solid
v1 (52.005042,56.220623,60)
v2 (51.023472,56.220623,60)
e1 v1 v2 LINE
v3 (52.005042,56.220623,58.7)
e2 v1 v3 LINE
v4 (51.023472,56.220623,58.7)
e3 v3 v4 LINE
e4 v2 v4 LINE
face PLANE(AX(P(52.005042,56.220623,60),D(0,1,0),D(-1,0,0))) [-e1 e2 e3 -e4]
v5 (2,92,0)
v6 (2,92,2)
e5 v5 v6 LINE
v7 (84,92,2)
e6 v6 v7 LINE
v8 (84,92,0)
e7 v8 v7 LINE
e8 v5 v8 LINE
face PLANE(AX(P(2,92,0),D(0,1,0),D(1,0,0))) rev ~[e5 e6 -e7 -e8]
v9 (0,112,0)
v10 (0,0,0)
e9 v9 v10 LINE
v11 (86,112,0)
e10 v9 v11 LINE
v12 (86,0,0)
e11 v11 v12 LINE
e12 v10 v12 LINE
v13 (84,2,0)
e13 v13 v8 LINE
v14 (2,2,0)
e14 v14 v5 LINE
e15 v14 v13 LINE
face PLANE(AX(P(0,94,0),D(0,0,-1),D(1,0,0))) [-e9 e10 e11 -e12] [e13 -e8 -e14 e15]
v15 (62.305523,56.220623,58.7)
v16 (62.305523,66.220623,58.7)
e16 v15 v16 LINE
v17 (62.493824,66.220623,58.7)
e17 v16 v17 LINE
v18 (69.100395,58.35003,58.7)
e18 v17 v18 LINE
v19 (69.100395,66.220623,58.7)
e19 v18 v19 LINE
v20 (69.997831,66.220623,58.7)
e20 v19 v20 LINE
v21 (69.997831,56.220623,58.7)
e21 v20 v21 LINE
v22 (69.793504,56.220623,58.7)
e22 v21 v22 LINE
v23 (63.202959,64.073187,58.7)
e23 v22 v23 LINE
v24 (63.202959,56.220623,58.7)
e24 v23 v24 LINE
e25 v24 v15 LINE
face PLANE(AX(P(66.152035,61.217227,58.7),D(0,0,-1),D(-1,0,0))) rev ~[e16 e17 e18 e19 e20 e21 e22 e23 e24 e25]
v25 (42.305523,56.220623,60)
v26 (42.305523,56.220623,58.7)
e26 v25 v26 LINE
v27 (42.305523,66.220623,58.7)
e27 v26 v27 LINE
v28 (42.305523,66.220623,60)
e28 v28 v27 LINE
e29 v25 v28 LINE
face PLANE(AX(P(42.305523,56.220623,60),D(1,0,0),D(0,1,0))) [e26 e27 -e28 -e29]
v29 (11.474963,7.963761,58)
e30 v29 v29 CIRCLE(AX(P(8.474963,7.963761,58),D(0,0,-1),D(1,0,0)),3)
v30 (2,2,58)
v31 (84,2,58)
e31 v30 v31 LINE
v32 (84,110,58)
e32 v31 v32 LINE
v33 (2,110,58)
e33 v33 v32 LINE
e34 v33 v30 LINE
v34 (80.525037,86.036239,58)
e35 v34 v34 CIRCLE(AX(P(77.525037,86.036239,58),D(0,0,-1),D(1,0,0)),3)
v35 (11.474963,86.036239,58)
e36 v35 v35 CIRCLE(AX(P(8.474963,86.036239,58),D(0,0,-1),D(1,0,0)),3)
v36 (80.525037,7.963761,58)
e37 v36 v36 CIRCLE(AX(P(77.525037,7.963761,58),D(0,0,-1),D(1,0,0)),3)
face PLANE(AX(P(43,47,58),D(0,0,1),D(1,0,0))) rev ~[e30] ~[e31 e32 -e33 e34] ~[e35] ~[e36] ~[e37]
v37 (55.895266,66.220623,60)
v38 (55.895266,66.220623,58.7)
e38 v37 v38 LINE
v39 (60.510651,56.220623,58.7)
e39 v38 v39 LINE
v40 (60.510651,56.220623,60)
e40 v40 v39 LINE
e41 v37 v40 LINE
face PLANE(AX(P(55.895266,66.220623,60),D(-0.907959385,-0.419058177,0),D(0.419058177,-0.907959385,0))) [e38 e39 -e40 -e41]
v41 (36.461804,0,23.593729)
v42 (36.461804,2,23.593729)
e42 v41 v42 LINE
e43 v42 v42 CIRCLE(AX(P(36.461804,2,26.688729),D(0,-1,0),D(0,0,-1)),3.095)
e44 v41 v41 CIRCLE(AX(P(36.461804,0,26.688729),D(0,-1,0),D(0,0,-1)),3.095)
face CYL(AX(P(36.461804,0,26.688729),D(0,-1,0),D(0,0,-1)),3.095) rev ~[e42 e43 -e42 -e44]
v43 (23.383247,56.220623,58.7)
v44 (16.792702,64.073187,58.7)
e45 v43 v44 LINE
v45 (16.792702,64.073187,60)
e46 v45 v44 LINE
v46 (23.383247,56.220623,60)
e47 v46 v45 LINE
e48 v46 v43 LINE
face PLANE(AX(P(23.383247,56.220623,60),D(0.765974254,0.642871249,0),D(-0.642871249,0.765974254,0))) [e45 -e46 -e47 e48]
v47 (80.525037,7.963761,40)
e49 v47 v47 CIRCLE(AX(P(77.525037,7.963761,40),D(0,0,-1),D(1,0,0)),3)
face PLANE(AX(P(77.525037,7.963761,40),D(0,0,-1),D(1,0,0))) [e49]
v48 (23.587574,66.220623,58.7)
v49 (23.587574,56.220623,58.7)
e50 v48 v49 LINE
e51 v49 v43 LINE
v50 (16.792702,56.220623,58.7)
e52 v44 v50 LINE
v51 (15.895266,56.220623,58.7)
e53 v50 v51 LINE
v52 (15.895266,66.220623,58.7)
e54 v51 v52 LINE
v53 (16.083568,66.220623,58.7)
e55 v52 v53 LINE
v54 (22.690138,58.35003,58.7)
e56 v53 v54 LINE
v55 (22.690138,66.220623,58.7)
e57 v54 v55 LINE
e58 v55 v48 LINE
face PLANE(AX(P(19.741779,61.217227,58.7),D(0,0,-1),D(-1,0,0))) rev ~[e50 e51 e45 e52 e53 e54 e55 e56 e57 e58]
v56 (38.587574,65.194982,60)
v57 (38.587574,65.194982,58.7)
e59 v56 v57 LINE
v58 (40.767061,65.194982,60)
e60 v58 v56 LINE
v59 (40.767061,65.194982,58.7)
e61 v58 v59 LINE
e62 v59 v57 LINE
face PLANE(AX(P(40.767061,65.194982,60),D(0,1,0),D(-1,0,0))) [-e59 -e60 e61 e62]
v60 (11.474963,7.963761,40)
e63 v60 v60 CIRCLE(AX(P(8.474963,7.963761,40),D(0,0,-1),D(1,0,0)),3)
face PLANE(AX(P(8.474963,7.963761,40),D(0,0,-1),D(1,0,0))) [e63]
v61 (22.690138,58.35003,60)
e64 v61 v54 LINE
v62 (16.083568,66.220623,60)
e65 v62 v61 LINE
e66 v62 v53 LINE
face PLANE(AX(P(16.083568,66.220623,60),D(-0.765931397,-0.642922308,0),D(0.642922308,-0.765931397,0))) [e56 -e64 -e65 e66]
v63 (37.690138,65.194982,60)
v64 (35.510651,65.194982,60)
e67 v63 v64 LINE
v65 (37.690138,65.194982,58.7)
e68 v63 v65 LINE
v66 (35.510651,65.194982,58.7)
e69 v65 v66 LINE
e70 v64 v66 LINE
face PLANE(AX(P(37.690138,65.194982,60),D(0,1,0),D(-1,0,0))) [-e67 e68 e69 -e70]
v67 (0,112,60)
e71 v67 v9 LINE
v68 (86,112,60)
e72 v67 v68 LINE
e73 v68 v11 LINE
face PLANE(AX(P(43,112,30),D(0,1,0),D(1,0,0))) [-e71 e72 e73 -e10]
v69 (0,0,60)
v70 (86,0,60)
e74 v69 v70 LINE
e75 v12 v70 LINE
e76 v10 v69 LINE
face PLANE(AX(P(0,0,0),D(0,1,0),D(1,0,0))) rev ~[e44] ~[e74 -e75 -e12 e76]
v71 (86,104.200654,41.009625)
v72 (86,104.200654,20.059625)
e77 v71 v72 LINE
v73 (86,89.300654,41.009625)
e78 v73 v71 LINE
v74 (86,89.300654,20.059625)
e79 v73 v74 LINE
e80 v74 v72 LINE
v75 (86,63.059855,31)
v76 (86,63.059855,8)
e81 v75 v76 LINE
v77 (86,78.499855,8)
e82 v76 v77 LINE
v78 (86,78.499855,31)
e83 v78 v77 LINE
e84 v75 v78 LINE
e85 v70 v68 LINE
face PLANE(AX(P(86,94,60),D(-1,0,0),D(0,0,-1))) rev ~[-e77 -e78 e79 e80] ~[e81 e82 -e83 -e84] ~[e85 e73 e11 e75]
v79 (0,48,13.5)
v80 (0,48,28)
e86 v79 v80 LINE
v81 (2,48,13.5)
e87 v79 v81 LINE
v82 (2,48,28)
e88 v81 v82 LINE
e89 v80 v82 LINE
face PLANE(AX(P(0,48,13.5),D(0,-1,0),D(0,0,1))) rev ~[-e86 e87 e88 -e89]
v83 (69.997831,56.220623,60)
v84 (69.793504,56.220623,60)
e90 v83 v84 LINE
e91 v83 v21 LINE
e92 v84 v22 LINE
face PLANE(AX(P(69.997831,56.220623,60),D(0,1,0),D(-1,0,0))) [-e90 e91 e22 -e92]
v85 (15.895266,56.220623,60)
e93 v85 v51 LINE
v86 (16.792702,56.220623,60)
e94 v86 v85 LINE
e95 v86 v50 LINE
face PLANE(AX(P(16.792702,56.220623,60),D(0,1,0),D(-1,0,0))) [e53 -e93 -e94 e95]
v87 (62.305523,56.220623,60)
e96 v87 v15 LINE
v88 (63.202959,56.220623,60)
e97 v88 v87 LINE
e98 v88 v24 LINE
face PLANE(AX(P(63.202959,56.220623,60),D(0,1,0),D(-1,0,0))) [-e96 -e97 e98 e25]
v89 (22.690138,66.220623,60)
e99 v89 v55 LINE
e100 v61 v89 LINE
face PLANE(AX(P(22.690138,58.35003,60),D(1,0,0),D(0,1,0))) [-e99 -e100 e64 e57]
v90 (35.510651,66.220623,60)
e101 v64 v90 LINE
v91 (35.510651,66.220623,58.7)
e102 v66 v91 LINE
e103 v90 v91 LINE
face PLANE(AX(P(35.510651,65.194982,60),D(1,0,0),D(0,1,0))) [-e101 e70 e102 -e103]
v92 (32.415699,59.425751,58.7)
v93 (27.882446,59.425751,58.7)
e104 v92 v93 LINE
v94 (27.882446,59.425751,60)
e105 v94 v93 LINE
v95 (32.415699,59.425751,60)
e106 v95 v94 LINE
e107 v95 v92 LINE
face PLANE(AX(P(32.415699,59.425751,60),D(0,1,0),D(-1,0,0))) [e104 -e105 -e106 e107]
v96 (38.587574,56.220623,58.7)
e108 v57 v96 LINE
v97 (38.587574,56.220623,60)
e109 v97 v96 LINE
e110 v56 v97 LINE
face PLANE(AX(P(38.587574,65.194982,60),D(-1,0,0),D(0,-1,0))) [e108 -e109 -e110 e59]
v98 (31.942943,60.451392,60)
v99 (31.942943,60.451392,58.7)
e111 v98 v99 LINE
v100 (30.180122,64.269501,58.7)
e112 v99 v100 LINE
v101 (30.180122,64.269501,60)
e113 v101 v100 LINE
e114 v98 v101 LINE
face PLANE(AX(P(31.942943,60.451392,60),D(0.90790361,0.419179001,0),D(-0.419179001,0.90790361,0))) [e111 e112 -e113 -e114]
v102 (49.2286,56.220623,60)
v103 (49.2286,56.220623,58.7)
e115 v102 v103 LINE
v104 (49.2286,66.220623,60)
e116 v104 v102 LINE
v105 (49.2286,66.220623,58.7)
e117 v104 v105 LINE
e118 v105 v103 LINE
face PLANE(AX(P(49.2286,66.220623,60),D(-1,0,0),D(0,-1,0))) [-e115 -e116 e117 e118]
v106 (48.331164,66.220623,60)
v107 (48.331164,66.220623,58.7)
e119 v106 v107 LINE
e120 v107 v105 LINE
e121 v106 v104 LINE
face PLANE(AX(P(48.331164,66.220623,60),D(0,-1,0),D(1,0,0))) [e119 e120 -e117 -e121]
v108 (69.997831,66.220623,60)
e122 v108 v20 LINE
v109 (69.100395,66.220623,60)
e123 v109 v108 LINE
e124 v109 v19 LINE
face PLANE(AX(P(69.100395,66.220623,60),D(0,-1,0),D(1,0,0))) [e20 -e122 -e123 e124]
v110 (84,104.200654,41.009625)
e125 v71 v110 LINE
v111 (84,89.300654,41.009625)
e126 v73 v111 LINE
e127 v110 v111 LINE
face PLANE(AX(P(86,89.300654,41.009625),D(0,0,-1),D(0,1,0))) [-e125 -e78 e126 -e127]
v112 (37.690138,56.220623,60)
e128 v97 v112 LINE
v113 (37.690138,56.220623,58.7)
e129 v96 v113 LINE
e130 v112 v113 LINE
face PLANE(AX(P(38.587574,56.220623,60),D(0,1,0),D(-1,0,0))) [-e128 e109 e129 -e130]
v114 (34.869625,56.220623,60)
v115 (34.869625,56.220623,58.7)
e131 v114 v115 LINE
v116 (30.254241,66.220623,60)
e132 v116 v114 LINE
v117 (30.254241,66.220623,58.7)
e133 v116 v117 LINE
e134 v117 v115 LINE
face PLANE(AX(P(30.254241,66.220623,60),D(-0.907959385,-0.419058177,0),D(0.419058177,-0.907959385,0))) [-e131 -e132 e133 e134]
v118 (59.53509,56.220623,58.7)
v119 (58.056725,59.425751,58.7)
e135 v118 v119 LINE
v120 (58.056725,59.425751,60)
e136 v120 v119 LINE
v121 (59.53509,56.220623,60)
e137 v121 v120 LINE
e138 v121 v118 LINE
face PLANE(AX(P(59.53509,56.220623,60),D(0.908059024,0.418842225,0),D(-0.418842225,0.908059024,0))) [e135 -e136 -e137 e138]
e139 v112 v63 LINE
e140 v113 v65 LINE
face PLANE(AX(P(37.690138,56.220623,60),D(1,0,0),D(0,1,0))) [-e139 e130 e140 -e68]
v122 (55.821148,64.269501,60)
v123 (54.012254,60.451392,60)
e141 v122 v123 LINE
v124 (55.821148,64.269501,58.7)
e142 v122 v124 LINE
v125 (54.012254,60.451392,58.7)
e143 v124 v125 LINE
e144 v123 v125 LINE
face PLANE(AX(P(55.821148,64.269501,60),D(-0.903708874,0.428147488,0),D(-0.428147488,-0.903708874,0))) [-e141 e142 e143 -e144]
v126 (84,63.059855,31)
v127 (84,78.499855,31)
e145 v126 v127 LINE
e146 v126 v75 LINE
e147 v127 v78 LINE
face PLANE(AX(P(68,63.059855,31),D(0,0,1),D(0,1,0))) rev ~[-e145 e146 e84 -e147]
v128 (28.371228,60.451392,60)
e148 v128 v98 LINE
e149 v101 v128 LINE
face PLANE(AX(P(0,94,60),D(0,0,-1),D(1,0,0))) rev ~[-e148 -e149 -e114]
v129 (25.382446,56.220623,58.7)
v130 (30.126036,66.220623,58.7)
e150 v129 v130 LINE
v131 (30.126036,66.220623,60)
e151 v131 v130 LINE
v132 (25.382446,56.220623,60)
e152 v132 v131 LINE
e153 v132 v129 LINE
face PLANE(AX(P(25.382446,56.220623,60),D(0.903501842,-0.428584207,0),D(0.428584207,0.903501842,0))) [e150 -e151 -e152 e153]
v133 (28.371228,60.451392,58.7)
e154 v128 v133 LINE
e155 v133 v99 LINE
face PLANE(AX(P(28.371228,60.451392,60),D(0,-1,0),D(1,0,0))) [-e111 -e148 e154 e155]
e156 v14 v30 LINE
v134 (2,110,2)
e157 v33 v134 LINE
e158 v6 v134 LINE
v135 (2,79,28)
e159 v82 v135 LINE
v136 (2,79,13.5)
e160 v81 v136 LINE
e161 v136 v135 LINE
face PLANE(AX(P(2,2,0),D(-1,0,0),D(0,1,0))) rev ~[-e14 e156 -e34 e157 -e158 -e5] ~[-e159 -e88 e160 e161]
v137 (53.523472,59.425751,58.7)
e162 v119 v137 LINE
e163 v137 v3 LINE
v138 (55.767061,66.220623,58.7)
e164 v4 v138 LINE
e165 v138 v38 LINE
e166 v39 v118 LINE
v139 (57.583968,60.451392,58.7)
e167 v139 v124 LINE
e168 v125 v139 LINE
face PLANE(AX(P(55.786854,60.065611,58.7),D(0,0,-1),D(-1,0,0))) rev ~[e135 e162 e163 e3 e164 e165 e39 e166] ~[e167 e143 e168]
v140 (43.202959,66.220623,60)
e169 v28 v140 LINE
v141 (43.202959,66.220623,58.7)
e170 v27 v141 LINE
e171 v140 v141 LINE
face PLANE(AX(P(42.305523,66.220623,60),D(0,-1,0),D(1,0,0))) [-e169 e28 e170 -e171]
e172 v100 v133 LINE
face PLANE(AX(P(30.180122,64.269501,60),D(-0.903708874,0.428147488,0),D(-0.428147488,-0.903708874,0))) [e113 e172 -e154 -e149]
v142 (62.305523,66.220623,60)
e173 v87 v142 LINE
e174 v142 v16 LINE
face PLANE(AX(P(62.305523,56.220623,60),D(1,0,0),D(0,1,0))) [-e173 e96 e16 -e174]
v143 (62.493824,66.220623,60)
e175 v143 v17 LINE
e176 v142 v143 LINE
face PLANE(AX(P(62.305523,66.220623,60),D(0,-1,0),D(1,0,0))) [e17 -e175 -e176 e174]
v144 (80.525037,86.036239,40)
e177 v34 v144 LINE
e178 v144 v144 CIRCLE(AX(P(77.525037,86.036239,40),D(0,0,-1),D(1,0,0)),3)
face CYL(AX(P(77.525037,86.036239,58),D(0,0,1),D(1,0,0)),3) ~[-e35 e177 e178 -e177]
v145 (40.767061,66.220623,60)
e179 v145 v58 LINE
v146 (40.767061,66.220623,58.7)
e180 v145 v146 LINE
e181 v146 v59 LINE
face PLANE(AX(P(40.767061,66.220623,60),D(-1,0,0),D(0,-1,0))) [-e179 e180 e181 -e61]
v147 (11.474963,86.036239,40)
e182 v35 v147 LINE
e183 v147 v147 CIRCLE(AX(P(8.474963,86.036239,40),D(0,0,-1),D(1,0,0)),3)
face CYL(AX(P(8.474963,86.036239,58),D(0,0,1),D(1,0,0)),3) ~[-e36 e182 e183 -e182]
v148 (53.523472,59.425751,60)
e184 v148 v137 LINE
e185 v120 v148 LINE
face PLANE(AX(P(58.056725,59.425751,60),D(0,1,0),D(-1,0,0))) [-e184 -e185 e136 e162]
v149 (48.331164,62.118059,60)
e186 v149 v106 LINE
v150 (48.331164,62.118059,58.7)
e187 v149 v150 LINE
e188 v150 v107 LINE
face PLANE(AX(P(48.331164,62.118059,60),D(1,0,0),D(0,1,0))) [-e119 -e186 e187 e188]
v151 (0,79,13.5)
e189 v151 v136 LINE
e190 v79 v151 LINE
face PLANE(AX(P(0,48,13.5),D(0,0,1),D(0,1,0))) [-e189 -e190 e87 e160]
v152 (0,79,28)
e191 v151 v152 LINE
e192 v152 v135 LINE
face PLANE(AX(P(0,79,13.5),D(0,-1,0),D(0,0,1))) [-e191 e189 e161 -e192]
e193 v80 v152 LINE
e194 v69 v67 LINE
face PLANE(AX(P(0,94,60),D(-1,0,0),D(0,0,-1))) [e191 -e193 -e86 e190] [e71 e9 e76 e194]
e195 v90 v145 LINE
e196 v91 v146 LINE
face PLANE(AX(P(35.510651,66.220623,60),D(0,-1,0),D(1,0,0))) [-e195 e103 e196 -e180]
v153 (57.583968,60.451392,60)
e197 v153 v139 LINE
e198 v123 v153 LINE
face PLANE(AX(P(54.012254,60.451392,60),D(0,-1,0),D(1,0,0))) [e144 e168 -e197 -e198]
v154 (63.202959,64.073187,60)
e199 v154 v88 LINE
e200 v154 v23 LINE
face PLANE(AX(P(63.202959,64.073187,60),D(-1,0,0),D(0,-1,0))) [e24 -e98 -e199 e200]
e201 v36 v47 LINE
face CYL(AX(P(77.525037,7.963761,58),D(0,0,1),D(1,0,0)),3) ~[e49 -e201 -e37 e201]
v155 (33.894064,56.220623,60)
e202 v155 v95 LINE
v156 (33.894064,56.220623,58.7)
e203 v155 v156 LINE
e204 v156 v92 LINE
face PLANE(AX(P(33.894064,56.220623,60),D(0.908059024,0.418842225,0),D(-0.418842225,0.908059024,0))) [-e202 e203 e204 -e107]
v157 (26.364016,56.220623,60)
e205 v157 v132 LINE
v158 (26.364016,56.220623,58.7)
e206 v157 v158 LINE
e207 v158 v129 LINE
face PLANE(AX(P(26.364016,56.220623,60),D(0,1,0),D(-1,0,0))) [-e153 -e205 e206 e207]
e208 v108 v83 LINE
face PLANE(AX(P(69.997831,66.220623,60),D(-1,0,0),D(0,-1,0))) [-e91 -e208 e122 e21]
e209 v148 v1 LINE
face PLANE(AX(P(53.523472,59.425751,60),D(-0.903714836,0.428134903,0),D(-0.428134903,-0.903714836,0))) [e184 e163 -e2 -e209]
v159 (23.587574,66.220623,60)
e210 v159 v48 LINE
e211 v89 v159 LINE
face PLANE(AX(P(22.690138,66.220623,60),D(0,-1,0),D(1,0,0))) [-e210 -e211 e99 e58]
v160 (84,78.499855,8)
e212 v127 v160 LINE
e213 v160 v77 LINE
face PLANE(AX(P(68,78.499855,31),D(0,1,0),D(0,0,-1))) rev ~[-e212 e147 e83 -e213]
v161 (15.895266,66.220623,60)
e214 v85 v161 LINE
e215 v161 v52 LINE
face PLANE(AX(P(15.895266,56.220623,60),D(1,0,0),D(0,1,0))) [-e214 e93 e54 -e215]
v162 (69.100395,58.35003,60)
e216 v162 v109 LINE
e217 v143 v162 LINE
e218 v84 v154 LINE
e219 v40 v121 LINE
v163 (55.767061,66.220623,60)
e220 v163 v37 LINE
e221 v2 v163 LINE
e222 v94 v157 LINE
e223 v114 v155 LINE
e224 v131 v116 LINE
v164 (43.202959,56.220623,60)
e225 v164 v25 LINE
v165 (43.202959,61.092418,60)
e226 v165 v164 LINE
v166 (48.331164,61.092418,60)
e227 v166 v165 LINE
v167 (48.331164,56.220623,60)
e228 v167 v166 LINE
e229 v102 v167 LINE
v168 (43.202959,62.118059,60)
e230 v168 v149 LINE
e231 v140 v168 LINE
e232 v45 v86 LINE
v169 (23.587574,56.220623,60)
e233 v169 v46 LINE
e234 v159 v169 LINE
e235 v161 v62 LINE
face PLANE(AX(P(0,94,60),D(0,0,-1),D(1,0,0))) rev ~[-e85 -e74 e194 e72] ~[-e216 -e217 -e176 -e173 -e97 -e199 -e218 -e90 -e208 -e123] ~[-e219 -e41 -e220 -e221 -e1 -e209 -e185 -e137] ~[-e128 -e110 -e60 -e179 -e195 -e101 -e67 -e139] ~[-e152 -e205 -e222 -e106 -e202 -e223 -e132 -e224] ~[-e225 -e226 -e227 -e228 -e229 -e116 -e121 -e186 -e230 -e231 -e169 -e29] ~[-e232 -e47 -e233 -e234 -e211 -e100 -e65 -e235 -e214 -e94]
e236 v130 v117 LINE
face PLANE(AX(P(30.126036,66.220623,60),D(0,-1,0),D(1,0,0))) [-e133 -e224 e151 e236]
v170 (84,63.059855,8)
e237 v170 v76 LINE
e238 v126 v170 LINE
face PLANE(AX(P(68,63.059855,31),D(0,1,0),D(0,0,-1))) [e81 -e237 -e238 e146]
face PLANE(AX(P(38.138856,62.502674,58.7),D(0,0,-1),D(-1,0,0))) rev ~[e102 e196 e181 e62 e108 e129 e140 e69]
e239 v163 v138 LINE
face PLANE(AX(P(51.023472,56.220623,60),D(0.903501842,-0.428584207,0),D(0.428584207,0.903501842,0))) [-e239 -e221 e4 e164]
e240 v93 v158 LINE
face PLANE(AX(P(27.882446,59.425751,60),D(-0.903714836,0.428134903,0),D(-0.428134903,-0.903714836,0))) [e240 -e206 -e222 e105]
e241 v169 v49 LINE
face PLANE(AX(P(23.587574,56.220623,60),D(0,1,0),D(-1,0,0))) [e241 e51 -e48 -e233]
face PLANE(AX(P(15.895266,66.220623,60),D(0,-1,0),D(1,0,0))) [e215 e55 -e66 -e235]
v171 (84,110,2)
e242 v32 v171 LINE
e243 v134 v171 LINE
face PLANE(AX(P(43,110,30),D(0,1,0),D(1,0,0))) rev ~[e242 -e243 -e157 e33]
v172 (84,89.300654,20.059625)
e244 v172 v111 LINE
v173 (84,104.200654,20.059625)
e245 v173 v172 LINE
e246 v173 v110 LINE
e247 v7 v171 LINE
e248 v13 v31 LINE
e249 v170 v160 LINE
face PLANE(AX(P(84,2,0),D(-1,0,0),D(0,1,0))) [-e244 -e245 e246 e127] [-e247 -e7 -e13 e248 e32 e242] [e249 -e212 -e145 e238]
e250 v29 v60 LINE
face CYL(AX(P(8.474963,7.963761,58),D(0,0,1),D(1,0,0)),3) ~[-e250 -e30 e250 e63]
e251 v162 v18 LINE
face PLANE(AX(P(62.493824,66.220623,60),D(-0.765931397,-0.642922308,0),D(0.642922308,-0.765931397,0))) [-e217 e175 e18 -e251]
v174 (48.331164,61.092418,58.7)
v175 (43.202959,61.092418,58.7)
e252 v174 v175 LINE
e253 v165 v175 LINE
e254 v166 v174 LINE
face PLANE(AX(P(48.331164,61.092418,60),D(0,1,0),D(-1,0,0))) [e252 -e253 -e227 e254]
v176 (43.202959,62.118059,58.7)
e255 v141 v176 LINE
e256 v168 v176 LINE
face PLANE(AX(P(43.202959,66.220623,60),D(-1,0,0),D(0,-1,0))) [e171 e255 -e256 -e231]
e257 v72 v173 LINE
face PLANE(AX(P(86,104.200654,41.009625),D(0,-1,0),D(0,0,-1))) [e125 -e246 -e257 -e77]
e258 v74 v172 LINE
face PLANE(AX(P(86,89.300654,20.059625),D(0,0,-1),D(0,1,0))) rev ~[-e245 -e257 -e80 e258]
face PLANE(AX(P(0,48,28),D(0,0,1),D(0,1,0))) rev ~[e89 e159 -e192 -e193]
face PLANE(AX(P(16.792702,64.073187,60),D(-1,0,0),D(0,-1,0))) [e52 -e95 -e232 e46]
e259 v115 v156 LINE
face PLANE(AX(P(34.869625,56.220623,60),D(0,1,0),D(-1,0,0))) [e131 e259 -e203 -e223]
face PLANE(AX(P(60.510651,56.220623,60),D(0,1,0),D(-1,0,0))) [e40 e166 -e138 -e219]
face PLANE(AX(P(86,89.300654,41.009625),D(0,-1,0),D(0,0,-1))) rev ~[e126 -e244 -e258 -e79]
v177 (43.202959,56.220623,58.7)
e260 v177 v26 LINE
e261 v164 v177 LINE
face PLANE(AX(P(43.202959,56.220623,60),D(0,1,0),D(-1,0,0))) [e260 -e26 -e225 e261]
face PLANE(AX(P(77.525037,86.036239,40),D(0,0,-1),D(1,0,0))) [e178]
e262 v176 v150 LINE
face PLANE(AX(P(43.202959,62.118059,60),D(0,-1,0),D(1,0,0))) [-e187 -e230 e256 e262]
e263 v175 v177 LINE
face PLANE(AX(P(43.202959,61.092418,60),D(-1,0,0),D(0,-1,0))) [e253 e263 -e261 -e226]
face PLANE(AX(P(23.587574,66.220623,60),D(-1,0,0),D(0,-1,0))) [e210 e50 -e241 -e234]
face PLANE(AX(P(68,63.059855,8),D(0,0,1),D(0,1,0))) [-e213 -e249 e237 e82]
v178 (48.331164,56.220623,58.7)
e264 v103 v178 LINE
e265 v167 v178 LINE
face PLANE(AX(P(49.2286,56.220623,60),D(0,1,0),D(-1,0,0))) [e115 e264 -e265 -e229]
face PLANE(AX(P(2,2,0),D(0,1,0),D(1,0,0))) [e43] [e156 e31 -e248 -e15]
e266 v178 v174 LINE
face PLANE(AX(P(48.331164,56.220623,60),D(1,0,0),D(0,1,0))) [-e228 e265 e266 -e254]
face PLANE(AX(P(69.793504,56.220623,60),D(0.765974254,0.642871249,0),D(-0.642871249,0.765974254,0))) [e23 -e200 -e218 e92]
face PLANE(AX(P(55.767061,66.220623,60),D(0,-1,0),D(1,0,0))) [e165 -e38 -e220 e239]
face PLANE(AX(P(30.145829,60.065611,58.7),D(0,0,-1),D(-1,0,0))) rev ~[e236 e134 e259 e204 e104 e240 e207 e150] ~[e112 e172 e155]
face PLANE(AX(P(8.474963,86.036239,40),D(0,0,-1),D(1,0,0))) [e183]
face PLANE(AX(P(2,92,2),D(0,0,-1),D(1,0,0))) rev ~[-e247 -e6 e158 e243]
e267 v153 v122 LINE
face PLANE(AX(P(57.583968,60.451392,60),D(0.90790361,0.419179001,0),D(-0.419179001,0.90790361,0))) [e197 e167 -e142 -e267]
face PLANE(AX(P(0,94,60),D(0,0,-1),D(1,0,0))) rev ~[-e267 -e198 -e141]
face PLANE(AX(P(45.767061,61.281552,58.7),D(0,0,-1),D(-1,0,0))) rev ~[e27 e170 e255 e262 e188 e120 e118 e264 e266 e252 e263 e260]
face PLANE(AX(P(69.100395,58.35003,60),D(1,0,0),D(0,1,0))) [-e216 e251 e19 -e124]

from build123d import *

# Parameters (mm, degrees)
ESQUISSE1_W                  = 86
ESQUISSE1_H                  = 94
BOSS_EXTRU_1_DEPTH           = 60
ESQUISSE2_W                  = 82
ESQUISSE2_H                  = 90
ENL_V_MAT_EXTRU_1_DEPTH      = 58
ESQUISSE3_W                  = 86
ESQUISSE3_H                  = 60
BOSS_EXTRU_2_DEPTH           = 18
ESQUISSE5_W                  = 82
ESQUISSE5_H                  = 56
ENL_V_MAT_EXTRU_2_DEPTH      = 18
ENL_V_MAT_EXTRU_3_DEPTH      = 154.427507312
ENL_V_MAT_EXTRU_3_DEPTH_BACK = 18
ESQUISSE7_W                  = 23
ESQUISSE7_H                  = 15.44
ESQUISSE8_W                  = 14.5
ESQUISSE8_H                  = 31
ENL_V_MAT_EXTRU_4_DEPTH      = 18
ESQUISSE11_W                 = 20.95
ESQUISSE11_H                 = 14.9
ENL_V_MAT_EXTRU_5_DEPTH      = 18
ESQUISSE12_R                 = 3.095
ENL_V_MAT_EXTRU_6_DEPTH      = 18
ESQUISSE15_R                 = 3
BOSS_EXTRU_3_DEPTH           = 18
ENL_V_MAT_EXTRU_7_DEPTH      = 1.3


with BuildPart() as part:
    # Esquisse1 → Boss.-Extru.1 (new body)
    with BuildSketch(Plane.XY):
        with Locations((43, 47)):
            Rectangle(ESQUISSE1_W, ESQUISSE1_H)
    extrude(amount=BOSS_EXTRU_1_DEPTH)

    # Esquisse2 → Enlèv. mat.-Extru.1 (cut)
    with BuildSketch(Plane.XY):
        with Locations((43, 47)):
            Rectangle(ESQUISSE2_W, ESQUISSE2_H)
    extrude(amount=ENL_V_MAT_EXTRU_1_DEPTH, mode=Mode.SUBTRACT)

    # Esquisse3 → Boss.-Extru.2 (add)
    with BuildSketch(Plane(origin=(0, 94, 0), x_dir=(1, 0, 0), z_dir=(0, 1, 0))):
        with Locations((43, -30)):
            Rectangle(ESQUISSE3_W, ESQUISSE3_H)
    extrude(amount=BOSS_EXTRU_2_DEPTH)

    # Esquisse5 → Enlèv. mat.-Extru.2 (cut)
    with BuildSketch(Plane(origin=(0, 92, 0), x_dir=(1, 0, 0), z_dir=(0, 1, 0))):
        with Locations((43, -30)):
            Rectangle(ESQUISSE5_W, ESQUISSE5_H)
    extrude(amount=ENL_V_MAT_EXTRU_2_DEPTH, mode=Mode.SUBTRACT)

    # Esquisse7 → Enlèv. mat.-Extru.3 (cut, two sides: drawn at the far end of the back side and taken through both)
    with BuildSketch(Plane(origin=(86, 0, 0), x_dir=(0, 0, -1), z_dir=(1, 0, 0)).offset(-ENL_V_MAT_EXTRU_3_DEPTH_BACK)):
        with Locations((-19.5, 70.77985545)):
            Rectangle(ESQUISSE7_W, ESQUISSE7_H)
    extrude(amount=ENL_V_MAT_EXTRU_3_DEPTH + ENL_V_MAT_EXTRU_3_DEPTH_BACK, mode=Mode.SUBTRACT)

    # Esquisse8 → Enlèv. mat.-Extru.4 (cut)
    with BuildSketch(Plane.ZY):
        with Locations((20.75, 63.5)):
            Rectangle(ESQUISSE8_W, ESQUISSE8_H)
    extrude(amount=-ENL_V_MAT_EXTRU_4_DEPTH, mode=Mode.SUBTRACT)

    # Esquisse11 → Enlèv. mat.-Extru.5 (cut)
    with BuildSketch(Plane(origin=(86, 0, 0), x_dir=(0, 0, -1), z_dir=(1, 0, 0))):
        with Locations((-30.534625058, 96.750653673)):
            Rectangle(ESQUISSE11_W, ESQUISSE11_H)
    extrude(amount=-ENL_V_MAT_EXTRU_5_DEPTH, mode=Mode.SUBTRACT)

    # Esquisse12 → Enlèv. mat.-Extru.6 (cut)
    with BuildSketch(Plane.XZ):
        with Locations(Location((36.461804468, 26.688728835, 0), (0, 0, 270))):
            Circle(ESQUISSE12_R)
    extrude(amount=-ENL_V_MAT_EXTRU_6_DEPTH, mode=Mode.SUBTRACT)

    # Esquisse15 → Boss.-Extru.3 (add)
    with BuildSketch(Plane(origin=(0, 0, 58), x_dir=(-1, 0, 0), z_dir=(0, 0, -1))):
        with Locations(Location((-77.525036721, 7.963761202, 0), (0, 0, 180))):
            Circle(ESQUISSE15_R)
        with Locations(Location((-8.474963279, 7.963761202, 0), (0, 0, 180))):
            Circle(ESQUISSE15_R)
        with Locations(Location((-77.525036721, 86.036238798, 0), (0, 0, 180))):
            Circle(ESQUISSE15_R)
        with Locations(Location((-8.474963279, 86.036238798, 0), (0, 0, 180))):
            Circle(ESQUISSE15_R)
    extrude(amount=BOSS_EXTRU_3_DEPTH)

    # Esquisse16 → Enlèv. mat.-Extru.7 (cut)
    # profile 1 of 6: a face of its own
    with BuildSketch(Plane.XY.offset(60)):
        Polygon((15.8952664, 56.22062268), (15.8952664, 66.22062268), (16.083567682, 66.22062268), (22.690138195, 58.350029732), (22.690138195, 66.22062268), (23.587574092, 66.22062268), (23.587574092, 56.22062268), (23.383247169, 56.22062268), (16.792702297, 64.073186783), (16.792702297, 56.22062268), align=None)
    # profile 2 of 6: a face of its own
    with BuildSketch(Plane.XY.offset(60)):
        Polygon((30.254240759, 66.22062268), (34.869625374, 56.22062268), (33.894064477, 56.22062268), (32.415699092, 59.425750886), (27.882445887, 59.425750886), (26.3640164, 56.22062268), (25.382445887, 56.22062268), (30.126035631, 66.22062268), align=None)
        Polygon((30.180122169, 64.269500886), (28.371227939, 60.451391911), (31.942942682, 60.451391911), align=None, mode=Mode.SUBTRACT)
    # profile 3 of 6: a face of its own
    with BuildSketch(Plane.XY.offset(60)):
        Polygon((35.510651015, 65.194981655), (35.510651015, 66.22062268), (40.767061272, 66.22062268), (40.767061272, 65.194981655), (38.587574092, 65.194981655), (38.587574092, 56.22062268), (37.690138195, 56.22062268), (37.690138195, 65.194981655), align=None)
    # profile 4 of 6: a face of its own
    with BuildSketch(Plane.XY.offset(60)):
        Polygon((42.30552281, 66.22062268), (43.202958708, 66.22062268), (43.202958708, 62.118058578), (48.331163836, 62.118058578), (48.331163836, 66.22062268), (49.228599733, 66.22062268), (49.228599733, 56.22062268), (48.331163836, 56.22062268), (48.331163836, 61.092417552), (43.202958708, 61.092417552), (43.202958708, 56.22062268), (42.30552281, 56.22062268), align=None)
    # profile 5 of 6: a face of its own
    with BuildSketch(Plane.XY.offset(60)):
        Polygon((55.8952664, 66.22062268), (60.510651015, 56.22062268), (59.535090118, 56.22062268), (58.056724733, 59.425750886), (53.523471528, 59.425750886), (52.005042041, 56.22062268), (51.023471528, 56.22062268), (55.767061272, 66.22062268), align=None)
        Polygon((55.82114781, 64.269500886), (54.01225358, 60.451391911), (57.583968323, 60.451391911), align=None, mode=Mode.SUBTRACT)
    # profile 6 of 6: a face of its own
    with BuildSketch(Plane.XY.offset(60)):
        Polygon((62.30552281, 56.22062268), (62.30552281, 66.22062268), (62.493824092, 66.22062268), (69.100394605, 58.350029732), (69.100394605, 66.22062268), (69.997830503, 66.22062268), (69.997830503, 56.22062268), (69.79350358, 56.22062268), (63.202958708, 64.073186783), (63.202958708, 56.22062268), align=None)
    extrude(amount=-ENL_V_MAT_EXTRU_7_DEPTH, mode=Mode.SUBTRACT)


solid = part.part
